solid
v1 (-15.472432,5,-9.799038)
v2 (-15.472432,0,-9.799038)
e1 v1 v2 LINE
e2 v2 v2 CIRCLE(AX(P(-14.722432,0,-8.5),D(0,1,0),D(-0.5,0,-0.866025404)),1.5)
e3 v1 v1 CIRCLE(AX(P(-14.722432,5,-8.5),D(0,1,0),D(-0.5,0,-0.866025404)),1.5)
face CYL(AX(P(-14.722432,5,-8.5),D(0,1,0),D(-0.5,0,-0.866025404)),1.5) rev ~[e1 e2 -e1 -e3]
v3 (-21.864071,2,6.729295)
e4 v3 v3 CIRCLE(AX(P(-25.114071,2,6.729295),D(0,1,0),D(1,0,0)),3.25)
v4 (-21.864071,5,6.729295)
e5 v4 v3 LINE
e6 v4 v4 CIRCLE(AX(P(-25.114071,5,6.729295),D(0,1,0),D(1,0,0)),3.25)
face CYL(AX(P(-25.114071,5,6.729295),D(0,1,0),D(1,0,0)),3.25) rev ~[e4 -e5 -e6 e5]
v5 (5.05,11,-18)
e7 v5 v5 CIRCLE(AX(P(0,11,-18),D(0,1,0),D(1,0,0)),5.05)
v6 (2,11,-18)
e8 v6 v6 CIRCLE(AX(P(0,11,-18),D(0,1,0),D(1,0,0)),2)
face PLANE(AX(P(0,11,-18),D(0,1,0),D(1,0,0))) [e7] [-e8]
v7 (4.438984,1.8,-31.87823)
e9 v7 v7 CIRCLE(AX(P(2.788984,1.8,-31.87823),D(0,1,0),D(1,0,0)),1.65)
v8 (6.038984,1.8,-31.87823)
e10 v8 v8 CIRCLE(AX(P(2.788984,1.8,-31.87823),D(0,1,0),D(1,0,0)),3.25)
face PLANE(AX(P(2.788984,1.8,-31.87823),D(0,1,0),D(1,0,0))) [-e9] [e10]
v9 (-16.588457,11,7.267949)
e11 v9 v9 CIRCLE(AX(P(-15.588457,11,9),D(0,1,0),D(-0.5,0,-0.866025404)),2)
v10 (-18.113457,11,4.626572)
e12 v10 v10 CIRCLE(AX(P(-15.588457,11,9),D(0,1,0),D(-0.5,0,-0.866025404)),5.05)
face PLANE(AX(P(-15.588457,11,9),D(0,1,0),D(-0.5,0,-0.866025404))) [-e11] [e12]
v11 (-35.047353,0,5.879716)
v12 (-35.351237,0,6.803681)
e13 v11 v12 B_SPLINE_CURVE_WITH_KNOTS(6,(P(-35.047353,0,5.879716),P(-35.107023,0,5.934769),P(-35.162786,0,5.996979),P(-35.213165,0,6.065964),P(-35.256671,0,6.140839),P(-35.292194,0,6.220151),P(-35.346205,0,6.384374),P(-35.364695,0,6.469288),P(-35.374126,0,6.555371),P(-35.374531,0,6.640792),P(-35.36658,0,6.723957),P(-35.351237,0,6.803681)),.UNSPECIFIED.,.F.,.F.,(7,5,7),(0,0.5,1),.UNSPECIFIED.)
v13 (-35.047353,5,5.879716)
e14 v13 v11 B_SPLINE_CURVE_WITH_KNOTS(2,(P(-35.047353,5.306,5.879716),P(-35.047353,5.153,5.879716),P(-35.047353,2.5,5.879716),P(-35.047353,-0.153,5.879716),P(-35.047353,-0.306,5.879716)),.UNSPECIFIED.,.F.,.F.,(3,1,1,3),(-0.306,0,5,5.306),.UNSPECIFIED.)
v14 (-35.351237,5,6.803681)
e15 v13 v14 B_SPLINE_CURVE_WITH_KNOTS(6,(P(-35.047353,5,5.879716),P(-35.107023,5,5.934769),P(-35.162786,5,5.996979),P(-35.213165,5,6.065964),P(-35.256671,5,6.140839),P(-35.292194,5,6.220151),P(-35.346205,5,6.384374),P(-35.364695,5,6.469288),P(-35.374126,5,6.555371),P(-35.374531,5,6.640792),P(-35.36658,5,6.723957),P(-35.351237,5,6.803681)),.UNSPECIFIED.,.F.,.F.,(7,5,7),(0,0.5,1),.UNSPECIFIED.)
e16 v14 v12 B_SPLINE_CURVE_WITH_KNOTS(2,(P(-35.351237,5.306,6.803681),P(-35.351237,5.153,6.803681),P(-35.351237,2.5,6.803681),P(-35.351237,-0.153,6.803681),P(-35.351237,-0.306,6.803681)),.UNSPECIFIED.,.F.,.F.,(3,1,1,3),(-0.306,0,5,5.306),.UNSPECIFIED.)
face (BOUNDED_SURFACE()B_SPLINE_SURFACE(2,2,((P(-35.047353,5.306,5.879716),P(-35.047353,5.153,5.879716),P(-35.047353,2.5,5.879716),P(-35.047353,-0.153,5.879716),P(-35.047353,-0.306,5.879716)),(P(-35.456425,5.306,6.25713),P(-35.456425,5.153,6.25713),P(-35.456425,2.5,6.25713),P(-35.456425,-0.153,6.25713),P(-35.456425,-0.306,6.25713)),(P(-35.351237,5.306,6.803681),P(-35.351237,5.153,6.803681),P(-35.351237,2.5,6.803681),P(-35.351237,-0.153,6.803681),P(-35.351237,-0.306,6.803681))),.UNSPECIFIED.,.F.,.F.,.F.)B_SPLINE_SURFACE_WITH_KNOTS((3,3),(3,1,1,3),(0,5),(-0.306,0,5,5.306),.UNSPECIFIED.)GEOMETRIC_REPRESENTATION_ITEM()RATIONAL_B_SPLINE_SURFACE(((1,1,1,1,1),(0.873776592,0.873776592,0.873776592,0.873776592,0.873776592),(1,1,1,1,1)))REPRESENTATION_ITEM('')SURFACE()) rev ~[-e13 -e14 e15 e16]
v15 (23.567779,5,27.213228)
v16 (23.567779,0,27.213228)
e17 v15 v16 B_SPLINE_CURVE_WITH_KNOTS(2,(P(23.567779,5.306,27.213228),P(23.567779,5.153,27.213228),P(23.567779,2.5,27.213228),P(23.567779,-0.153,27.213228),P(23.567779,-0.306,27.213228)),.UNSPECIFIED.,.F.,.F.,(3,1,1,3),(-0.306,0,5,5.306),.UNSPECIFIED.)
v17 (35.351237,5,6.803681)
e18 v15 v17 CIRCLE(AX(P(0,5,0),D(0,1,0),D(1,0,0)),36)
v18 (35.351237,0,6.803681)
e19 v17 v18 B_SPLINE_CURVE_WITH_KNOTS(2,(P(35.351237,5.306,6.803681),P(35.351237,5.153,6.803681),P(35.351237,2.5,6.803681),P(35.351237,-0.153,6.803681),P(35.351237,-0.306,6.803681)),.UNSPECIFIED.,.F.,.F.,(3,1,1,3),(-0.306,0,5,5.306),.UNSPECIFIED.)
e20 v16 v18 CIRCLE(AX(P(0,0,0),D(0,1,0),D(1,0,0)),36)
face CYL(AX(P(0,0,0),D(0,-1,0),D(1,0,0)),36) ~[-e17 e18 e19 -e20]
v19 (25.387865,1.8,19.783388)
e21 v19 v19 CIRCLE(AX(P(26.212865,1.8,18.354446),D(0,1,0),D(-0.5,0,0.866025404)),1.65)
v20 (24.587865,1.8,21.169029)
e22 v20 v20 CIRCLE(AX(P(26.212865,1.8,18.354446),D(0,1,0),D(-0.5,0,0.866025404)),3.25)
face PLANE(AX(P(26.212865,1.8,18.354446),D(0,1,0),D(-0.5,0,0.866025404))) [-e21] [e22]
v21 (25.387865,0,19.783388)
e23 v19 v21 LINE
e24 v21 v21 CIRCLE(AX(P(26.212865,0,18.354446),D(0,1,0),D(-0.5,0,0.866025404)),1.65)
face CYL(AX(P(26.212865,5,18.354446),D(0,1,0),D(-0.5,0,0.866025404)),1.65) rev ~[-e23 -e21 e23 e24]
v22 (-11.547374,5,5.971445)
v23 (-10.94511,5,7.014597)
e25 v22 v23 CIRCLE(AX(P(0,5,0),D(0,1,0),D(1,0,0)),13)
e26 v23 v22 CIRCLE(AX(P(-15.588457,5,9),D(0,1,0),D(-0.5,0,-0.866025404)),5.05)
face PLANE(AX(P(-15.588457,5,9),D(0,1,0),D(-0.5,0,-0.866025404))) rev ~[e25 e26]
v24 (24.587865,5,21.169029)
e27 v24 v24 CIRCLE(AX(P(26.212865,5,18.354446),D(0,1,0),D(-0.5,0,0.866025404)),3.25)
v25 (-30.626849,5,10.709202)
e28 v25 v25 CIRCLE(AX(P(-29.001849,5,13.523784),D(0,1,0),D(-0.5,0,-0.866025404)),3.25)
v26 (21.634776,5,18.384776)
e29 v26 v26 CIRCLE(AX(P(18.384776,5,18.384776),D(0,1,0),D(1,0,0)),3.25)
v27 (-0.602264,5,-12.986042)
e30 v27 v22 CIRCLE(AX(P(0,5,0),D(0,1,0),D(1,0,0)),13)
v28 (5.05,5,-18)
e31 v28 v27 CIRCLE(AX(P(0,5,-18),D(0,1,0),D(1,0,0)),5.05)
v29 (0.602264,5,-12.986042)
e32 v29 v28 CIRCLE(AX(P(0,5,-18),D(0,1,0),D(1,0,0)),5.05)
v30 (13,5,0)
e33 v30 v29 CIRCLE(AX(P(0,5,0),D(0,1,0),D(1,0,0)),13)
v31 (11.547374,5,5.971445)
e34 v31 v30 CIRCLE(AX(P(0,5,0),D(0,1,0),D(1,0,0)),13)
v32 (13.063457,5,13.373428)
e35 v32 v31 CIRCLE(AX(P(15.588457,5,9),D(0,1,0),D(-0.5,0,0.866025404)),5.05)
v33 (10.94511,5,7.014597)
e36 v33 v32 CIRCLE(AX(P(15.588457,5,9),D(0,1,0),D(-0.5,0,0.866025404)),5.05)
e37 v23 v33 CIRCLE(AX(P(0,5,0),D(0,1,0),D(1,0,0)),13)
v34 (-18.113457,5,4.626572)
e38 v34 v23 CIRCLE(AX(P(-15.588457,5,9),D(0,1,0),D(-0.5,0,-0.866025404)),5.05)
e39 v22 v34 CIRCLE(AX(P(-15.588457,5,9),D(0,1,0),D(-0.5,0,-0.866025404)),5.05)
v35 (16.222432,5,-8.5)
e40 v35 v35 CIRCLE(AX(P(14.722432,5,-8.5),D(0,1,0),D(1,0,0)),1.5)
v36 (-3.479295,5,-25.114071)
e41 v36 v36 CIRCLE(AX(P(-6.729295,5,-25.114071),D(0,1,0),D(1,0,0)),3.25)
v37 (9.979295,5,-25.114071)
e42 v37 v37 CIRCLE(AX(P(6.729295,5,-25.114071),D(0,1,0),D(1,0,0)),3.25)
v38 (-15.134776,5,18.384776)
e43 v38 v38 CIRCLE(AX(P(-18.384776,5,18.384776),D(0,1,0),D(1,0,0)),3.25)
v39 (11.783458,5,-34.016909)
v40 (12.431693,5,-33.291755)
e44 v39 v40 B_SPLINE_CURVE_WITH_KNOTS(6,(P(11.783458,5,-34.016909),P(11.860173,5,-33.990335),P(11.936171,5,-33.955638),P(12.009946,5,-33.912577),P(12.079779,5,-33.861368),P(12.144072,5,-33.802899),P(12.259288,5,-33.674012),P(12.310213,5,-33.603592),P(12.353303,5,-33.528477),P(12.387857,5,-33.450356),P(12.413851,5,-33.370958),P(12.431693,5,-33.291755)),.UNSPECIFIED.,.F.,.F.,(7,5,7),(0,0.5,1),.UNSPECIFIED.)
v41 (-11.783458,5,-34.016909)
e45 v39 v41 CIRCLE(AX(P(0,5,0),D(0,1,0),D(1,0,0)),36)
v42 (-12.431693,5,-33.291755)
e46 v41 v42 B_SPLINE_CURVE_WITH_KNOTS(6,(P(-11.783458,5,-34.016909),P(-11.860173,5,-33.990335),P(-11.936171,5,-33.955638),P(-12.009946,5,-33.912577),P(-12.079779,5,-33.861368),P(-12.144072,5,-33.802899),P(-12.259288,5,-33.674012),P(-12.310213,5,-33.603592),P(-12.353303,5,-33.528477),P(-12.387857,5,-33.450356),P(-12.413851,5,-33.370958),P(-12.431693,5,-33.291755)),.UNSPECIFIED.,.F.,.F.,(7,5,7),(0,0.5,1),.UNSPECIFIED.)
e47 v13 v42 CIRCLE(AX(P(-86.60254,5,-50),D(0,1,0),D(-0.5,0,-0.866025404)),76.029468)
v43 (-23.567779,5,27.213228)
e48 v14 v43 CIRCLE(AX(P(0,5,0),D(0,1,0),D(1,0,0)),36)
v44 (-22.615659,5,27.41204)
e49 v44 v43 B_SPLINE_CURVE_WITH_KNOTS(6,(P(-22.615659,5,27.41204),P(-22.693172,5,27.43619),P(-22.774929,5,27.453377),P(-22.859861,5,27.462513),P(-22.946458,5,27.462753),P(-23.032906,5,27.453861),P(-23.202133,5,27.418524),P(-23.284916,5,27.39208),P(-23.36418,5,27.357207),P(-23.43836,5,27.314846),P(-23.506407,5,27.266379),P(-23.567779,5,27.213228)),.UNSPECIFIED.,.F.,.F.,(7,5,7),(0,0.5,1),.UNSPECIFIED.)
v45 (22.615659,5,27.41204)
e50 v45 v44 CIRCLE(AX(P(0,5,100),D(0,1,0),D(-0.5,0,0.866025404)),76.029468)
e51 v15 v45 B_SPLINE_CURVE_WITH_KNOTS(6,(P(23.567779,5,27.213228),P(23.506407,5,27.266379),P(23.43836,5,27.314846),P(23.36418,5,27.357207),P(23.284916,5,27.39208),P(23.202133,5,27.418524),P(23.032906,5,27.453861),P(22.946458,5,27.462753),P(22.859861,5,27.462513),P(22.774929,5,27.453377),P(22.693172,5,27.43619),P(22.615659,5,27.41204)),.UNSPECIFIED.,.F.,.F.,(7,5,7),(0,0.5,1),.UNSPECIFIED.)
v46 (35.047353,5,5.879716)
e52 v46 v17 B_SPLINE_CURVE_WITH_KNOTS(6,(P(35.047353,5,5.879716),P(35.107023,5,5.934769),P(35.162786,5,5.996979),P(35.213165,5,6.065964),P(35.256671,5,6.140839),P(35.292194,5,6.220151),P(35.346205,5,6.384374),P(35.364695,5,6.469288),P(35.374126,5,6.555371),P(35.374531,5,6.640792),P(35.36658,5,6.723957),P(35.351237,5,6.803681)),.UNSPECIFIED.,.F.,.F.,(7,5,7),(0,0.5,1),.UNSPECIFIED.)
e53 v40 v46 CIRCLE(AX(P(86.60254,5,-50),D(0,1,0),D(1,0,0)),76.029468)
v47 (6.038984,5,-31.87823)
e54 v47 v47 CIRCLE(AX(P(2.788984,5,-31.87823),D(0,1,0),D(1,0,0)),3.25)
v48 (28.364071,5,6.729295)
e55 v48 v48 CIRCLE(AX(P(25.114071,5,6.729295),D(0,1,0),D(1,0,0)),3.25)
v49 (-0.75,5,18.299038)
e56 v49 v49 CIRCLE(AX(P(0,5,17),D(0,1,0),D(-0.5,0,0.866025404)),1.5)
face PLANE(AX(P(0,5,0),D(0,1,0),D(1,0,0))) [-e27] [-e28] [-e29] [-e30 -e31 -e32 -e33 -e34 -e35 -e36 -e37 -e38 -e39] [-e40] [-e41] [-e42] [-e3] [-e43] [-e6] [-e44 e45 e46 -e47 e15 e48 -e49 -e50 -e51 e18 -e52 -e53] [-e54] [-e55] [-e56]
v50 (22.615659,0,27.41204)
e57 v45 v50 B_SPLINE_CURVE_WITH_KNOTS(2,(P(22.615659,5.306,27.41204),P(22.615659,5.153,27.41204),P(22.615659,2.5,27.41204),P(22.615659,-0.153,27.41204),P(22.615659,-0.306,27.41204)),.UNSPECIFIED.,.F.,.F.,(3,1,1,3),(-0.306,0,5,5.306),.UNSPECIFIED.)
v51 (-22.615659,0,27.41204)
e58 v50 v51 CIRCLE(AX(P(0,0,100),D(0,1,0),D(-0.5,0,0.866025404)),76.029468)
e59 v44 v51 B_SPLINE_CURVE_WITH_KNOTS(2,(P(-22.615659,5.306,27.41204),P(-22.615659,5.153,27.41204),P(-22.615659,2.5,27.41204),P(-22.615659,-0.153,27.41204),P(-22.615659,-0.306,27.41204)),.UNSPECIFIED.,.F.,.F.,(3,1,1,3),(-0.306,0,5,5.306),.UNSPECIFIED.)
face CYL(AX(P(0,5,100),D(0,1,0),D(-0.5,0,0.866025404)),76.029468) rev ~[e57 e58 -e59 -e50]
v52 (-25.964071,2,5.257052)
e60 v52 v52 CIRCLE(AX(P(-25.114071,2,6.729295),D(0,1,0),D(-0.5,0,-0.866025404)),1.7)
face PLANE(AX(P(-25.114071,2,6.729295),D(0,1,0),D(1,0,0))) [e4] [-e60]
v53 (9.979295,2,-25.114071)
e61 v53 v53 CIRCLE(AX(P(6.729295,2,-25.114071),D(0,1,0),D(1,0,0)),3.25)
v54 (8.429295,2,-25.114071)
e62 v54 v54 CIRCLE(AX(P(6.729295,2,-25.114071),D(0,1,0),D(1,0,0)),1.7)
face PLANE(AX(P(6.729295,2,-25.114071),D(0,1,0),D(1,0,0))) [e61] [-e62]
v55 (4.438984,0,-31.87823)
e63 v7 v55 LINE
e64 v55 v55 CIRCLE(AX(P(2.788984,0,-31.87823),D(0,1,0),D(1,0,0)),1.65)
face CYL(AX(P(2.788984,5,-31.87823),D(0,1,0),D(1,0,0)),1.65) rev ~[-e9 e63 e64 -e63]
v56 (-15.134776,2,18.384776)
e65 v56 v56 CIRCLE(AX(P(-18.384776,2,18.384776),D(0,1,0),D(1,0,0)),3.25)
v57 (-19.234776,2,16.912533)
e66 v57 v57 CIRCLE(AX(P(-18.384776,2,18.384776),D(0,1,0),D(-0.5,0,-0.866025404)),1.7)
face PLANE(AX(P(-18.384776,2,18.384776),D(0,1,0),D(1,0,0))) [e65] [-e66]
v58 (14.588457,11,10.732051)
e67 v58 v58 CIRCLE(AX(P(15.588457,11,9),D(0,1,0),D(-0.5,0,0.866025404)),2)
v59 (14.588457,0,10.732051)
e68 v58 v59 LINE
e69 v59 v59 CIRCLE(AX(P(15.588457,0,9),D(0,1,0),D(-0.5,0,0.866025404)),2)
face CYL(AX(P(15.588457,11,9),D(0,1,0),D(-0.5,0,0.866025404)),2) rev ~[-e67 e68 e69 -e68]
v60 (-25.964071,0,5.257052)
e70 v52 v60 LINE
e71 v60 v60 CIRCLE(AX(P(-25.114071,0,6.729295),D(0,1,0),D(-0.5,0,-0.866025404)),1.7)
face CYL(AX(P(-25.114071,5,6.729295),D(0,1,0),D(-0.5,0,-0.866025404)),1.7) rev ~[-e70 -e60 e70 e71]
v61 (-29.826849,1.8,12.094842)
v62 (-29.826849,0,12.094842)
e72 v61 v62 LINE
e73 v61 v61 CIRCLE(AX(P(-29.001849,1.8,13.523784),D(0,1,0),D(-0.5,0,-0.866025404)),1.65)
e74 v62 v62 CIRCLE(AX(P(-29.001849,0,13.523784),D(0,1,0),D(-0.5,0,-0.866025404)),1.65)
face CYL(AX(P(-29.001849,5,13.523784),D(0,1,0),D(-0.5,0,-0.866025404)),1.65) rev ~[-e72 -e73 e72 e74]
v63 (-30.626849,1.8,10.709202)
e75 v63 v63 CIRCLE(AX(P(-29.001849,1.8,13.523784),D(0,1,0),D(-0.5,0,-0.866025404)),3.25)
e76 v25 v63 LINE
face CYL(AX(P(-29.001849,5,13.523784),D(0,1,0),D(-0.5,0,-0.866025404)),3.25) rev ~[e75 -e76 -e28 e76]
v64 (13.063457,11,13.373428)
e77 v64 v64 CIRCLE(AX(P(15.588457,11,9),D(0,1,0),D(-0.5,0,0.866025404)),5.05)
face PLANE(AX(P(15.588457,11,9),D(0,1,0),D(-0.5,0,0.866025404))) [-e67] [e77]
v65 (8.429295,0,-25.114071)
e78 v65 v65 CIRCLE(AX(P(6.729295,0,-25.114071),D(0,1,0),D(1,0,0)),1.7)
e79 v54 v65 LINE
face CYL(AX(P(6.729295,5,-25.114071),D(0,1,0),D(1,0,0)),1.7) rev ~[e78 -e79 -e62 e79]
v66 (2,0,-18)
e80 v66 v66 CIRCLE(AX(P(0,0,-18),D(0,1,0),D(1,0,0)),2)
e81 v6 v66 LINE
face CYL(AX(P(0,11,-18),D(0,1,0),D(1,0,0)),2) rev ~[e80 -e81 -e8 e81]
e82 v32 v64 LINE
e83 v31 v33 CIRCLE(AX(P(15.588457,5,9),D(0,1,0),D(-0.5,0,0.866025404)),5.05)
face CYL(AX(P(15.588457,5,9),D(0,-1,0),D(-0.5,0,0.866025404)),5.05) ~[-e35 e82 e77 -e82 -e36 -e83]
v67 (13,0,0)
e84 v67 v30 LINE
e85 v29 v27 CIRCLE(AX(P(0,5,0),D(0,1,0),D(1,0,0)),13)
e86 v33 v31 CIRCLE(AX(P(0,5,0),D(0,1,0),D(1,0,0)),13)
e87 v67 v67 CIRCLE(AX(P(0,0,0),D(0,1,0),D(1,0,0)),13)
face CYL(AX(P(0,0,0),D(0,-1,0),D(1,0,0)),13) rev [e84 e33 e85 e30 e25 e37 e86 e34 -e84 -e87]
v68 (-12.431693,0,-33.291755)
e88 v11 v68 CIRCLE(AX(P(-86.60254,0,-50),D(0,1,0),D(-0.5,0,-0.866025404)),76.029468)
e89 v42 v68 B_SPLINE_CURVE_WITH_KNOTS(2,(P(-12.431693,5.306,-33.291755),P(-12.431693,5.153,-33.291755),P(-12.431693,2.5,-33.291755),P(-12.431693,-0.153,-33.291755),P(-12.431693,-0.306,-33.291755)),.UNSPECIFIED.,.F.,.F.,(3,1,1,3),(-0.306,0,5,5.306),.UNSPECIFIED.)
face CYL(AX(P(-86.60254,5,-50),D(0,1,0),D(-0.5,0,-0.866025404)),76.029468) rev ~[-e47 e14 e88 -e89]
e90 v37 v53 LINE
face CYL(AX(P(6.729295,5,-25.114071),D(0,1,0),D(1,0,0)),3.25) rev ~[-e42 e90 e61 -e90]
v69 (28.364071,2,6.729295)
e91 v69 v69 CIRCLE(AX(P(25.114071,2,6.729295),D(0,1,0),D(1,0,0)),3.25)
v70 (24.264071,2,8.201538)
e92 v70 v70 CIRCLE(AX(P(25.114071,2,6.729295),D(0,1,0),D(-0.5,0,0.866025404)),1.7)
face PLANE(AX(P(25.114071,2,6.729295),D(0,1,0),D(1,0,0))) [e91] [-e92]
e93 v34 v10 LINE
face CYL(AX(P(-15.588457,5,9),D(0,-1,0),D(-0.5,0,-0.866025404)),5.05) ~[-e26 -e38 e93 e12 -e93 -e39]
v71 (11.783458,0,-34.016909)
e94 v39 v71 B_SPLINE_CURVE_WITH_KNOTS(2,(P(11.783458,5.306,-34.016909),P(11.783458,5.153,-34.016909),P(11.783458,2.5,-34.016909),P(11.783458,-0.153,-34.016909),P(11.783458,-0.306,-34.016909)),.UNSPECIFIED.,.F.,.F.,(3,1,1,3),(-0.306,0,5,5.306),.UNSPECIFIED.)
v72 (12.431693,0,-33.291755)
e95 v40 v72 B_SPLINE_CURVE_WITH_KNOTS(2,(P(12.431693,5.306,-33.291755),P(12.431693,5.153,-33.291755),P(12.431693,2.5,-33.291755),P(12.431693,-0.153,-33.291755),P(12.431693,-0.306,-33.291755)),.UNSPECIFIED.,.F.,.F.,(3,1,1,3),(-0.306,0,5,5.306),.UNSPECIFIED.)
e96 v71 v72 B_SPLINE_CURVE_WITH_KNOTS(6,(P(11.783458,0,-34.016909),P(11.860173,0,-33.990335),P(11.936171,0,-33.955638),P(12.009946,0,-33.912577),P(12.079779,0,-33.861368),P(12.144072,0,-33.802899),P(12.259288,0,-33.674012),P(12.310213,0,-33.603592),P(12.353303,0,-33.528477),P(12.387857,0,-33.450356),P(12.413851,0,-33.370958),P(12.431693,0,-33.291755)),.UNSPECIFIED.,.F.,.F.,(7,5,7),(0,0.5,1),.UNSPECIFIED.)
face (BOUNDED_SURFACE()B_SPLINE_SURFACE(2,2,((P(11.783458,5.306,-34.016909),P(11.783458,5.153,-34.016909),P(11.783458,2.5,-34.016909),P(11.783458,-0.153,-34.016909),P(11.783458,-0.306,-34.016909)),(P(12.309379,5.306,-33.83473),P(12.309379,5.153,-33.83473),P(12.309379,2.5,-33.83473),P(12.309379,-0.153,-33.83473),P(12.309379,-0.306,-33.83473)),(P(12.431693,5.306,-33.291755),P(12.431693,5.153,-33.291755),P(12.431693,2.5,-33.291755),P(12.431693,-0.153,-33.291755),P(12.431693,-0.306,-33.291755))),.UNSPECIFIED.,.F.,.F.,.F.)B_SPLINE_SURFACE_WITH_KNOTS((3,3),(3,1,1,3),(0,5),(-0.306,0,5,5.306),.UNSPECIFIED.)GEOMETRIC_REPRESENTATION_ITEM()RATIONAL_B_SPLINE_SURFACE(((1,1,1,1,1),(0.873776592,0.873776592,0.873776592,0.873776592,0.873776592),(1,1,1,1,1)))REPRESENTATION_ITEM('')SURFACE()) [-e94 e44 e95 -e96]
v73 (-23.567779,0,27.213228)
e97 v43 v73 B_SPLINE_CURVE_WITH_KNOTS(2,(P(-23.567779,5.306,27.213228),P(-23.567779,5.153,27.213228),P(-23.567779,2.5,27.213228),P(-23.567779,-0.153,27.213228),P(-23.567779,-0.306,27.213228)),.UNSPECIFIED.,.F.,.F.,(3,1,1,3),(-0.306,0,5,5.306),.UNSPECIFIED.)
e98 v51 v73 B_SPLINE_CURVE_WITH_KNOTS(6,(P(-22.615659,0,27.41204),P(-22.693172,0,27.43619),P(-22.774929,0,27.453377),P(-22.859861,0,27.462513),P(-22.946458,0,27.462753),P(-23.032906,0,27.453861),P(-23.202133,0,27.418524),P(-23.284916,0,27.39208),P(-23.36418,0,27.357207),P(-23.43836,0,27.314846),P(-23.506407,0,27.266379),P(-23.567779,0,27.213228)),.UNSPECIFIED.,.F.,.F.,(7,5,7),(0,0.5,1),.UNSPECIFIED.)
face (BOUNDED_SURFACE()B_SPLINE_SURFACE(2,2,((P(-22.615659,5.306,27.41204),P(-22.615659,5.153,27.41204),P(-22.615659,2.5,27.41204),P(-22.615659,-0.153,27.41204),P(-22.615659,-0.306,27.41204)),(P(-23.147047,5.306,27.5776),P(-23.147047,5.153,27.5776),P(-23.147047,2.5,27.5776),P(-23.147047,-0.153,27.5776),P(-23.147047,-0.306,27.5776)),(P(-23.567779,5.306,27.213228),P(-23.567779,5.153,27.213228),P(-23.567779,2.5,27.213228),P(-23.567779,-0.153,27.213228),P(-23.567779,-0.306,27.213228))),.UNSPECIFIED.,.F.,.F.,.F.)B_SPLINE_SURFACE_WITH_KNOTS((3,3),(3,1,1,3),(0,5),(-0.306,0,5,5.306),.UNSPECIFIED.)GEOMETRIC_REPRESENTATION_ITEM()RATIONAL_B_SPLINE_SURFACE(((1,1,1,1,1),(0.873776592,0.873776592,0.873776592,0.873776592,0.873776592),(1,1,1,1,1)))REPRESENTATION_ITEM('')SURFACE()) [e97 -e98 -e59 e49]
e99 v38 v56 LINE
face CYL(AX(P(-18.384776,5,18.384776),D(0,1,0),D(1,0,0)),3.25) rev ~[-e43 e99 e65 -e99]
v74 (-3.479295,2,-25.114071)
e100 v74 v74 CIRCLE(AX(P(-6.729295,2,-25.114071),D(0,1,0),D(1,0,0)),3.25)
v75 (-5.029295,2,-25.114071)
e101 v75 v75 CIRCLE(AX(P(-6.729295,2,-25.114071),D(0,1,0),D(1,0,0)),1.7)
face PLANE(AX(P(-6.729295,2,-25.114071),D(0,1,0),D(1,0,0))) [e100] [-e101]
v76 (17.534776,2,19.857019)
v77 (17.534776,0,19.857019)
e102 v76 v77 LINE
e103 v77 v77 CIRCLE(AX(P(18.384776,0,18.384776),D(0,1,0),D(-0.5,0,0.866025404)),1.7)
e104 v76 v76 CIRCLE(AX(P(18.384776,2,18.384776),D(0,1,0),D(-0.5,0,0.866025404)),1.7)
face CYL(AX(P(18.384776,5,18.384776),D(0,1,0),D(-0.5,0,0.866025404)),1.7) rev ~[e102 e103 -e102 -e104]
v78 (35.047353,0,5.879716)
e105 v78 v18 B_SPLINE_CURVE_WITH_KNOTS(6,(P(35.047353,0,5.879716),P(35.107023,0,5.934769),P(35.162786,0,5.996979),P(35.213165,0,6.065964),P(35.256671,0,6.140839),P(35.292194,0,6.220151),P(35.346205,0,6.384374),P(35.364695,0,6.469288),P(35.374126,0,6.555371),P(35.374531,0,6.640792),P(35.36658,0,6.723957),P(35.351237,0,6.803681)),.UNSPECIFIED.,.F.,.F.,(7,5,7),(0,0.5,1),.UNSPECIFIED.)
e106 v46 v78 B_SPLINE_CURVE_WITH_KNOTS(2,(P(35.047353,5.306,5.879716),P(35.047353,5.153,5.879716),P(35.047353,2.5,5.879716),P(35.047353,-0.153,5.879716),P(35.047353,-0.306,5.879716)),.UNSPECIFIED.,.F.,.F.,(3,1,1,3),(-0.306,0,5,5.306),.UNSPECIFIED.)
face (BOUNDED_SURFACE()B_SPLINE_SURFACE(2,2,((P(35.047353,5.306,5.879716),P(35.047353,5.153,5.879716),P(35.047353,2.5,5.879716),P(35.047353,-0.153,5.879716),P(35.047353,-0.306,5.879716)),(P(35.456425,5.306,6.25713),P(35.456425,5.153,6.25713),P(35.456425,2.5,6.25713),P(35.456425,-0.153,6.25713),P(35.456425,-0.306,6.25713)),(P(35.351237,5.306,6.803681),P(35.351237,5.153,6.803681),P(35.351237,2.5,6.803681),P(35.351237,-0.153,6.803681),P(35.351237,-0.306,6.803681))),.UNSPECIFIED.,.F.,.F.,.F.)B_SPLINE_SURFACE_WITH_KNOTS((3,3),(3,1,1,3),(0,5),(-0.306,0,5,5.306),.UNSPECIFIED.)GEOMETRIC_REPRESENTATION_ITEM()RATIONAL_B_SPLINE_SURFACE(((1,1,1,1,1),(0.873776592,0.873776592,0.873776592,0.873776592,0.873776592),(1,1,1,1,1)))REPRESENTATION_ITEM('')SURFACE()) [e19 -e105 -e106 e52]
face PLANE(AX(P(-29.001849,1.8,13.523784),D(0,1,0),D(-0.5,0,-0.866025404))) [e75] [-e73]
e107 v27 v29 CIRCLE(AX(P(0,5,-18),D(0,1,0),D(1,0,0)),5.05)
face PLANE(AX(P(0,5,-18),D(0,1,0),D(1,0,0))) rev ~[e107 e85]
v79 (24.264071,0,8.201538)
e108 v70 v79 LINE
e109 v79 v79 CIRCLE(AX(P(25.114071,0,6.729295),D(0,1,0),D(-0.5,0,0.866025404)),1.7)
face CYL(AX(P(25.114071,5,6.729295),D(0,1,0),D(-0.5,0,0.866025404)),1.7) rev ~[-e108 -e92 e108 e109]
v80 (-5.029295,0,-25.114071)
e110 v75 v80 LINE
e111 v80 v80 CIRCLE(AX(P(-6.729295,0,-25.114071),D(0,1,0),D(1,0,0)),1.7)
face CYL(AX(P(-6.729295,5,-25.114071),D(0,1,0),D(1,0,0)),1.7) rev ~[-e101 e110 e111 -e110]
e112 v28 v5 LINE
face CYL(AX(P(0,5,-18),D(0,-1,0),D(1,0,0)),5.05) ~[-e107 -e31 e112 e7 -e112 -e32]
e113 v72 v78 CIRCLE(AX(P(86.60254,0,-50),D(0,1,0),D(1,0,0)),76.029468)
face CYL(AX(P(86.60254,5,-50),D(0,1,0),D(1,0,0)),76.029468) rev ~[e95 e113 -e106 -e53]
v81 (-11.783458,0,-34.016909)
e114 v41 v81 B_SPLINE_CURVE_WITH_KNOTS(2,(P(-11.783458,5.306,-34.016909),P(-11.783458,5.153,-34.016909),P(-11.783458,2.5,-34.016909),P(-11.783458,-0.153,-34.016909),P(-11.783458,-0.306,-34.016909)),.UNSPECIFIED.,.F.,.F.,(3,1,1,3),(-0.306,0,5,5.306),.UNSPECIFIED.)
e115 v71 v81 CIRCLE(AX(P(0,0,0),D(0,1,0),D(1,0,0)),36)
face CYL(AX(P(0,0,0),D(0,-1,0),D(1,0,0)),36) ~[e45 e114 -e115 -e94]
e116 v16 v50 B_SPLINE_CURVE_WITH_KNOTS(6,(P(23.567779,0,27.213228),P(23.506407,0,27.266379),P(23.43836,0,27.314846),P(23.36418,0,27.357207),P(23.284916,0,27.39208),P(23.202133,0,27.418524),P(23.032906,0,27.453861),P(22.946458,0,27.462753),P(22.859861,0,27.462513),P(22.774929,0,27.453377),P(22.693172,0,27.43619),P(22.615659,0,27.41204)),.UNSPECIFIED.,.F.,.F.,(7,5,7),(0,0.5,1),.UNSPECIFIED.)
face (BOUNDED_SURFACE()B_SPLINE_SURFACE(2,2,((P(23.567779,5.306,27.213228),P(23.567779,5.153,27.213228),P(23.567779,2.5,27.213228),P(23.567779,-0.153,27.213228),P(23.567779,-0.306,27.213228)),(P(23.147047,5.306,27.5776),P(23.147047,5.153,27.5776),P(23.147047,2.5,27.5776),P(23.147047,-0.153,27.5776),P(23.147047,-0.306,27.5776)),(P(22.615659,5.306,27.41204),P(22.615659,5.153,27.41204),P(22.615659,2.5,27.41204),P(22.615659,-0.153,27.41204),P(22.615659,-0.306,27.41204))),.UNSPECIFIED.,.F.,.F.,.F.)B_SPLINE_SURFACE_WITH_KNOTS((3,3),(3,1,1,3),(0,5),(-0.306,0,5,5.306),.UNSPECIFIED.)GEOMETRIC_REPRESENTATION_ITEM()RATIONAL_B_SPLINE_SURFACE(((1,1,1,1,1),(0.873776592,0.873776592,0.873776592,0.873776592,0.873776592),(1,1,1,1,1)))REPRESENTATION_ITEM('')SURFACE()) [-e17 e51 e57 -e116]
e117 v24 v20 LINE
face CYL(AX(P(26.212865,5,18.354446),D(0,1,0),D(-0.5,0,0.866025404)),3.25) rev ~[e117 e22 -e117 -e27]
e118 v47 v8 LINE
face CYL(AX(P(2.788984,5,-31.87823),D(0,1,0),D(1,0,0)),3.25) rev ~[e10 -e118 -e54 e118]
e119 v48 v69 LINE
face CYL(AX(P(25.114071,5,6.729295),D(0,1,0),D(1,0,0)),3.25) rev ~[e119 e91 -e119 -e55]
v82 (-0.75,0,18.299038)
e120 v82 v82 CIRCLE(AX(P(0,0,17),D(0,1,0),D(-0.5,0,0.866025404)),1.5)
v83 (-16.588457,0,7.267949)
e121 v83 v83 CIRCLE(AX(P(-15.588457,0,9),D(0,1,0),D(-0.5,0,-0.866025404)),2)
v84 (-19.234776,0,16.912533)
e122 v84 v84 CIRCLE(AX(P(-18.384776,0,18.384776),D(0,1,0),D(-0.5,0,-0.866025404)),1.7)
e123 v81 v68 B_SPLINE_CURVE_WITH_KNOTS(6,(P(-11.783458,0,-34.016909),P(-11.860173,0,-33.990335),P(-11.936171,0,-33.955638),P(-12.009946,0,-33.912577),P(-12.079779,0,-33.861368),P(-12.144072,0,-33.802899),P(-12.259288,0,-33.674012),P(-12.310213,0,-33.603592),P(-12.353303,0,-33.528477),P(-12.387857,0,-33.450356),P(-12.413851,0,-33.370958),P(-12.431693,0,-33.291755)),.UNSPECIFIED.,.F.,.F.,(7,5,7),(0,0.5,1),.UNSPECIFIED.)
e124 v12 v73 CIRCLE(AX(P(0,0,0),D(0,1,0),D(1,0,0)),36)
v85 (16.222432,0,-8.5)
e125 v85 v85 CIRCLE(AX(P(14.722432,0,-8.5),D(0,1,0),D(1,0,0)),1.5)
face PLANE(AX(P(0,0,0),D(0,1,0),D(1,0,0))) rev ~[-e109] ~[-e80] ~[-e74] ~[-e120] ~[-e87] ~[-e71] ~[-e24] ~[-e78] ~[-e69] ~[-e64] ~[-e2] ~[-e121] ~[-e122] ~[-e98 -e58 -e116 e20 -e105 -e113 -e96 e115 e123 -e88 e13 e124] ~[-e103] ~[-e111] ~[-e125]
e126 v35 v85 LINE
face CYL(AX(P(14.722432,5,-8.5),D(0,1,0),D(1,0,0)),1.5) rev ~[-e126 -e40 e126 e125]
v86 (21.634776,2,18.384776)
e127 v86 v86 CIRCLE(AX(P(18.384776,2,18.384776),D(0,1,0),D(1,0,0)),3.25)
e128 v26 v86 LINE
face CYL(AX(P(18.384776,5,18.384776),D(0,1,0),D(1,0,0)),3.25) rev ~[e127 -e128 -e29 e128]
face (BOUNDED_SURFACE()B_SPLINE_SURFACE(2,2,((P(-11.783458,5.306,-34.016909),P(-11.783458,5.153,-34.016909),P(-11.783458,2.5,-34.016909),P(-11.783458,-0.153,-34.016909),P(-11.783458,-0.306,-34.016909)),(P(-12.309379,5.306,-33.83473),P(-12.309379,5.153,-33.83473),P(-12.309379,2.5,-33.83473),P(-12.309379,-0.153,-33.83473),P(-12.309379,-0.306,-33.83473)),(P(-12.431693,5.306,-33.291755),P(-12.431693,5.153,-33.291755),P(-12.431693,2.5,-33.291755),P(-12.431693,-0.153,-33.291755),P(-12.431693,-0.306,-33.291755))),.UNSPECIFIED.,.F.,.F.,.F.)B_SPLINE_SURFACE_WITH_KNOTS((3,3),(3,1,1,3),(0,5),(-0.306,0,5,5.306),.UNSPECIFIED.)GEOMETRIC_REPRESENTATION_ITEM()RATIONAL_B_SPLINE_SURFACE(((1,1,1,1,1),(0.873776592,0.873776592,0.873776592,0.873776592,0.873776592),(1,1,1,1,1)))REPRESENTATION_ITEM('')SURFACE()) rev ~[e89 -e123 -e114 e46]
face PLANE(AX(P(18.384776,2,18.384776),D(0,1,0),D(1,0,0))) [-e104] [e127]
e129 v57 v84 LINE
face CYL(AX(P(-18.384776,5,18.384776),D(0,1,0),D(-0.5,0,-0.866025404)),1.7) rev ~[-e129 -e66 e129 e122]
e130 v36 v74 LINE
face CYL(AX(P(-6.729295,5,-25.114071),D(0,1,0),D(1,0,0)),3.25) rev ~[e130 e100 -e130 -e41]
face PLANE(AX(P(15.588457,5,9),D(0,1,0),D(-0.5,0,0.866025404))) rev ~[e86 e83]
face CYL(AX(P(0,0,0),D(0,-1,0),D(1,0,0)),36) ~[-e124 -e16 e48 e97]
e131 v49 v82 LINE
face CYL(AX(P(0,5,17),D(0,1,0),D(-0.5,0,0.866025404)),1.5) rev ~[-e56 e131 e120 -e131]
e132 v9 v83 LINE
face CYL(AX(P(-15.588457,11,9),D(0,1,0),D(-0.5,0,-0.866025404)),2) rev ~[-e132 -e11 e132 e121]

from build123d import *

# Parameters (mm, degrees)
SKETCH1_R           = 36
SKETCH1_R_2         = 13
BOSS_EXTRUDE1_DEPTH = 5
SKETCH2_R           = 1.65
CUT_EXTRUDE1_DEPTH  = 6
CIRPATTERN1_COUNT   = 3
SKETCH3_R           = 76.029468034
CUT_EXTRUDE2_DEPTH  = 10
CIRPATTERN2_COUNT   = 3
FILLET1_R           = 1
SKETCH4_R           = 5.05
BOSS_EXTRUDE2_DEPTH = 6
SKETCH7_R           = 3.25
CUT_EXTRUDE5_DEPTH  = 3.2
CIRPATTERN3_COUNT   = 3
SKETCH8_R           = 1.5
CUT_EXTRUDE6_DEPTH  = 10
SKETCH12_R          = 2
CUT_EXTRUDE8_DEPTH  = 12.0000001
CIRPATTERN4_COUNT   = 3
SKETCH13_R          = 1.7
CUT_EXTRUDE9_DEPTH  = 6.0000001
CIRPATTERN5_COUNT   = 3
SKETCH14_R          = 3.25
CUT_EXTRUDE10_DEPTH = 3


with BuildPart() as part:
    # Sketch1 → Boss-Extrude1 (new body)
    with BuildSketch(Plane(origin=(0, 0, 0), x_dir=(1, 0, 0), z_dir=(0, 1, 0))):
        Circle(SKETCH1_R)
        Circle(SKETCH1_R_2, mode=Mode.SUBTRACT)
    extrude(amount=BOSS_EXTRUDE1_DEPTH)

    # Sketch2 → Cut-Extrude1 (cut, through all)
    with BuildSketch(Plane(origin=(0, 5, 0), x_dir=(1, 0, 0), z_dir=(0, 1, 0))):
        with Locations((2.788983768, 31.878230339)):
            Circle(SKETCH2_R)
    cut_extrude1 = extrude(amount=-CUT_EXTRUDE1_DEPTH, mode=Mode.SUBTRACT)

    # CirPattern1: Cut-Extrude1 ×3 about axis
    cirpattern1_axis = Axis((0, 0, 0), (0, 1, 0))
    for i in range(1, CIRPATTERN1_COUNT):
        add(cut_extrude1.rotate(cirpattern1_axis, i * 360 / CIRPATTERN1_COUNT), mode=Mode.SUBTRACT)

    # Sketch3 → Cut-Extrude2 (cut)
    with BuildSketch(Plane(origin=(0, 5, 0), x_dir=(1, 0, 0), z_dir=(0, 1, 0))):
        with Locations((86.602540378, 50)):
            Circle(SKETCH3_R)
    cut_extrude2 = extrude(amount=-CUT_EXTRUDE2_DEPTH, mode=Mode.SUBTRACT)

    # CirPattern2: Cut-Extrude2 ×3 about axis
    cirpattern2_axis = Axis((0, 0, 0), (0, 1, 0))
    for i in range(1, CIRPATTERN2_COUNT):
        add(cut_extrude2.rotate(cirpattern2_axis, i * 360 / CIRPATTERN2_COUNT), mode=Mode.SUBTRACT)

    # Fillet1
    fillet1_edges = [part.edges().sort_by_distance(p)[0] for p in [
        (12.31272516, 2.5, -33.828934348),
        (35.453079108, 2.5, 6.251334396),
        (23.140353949, 2.5, 27.577599952),
        (-23.140353949, 2.5, 27.577599952),
        (-35.453079108, 2.5, 6.251334396),
        (-12.31272516, 2.5, -33.828934348),
    ]]
    fillet(fillet1_edges, radius=FILLET1_R)

    # Sketch4 → Boss-Extrude2 (add)
    with BuildSketch(Plane(origin=(0, 5, 0), x_dir=(1, 0, 0), z_dir=(0, 1, 0))):
        with Locations((0, 18)):
            Circle(SKETCH4_R)
    boss_extrude2 = extrude(amount=BOSS_EXTRUDE2_DEPTH)

    # Sketch7 → Cut-Extrude5 (cut)
    with BuildSketch(Plane(origin=(0, 5, 0), x_dir=(1, 0, 0), z_dir=(0, 1, 0))):
        with Locations((2.788983768, 31.878230339)):
            Circle(SKETCH7_R)
    cut_extrude5 = extrude(amount=-CUT_EXTRUDE5_DEPTH, mode=Mode.SUBTRACT)

    # CirPattern3: Boss-Extrude2, Cut-Extrude5 ×3 about axis
    cirpattern3_axis = Axis((0, 0, 0), (0, 1, 0))
    for i in range(1, CIRPATTERN3_COUNT):
        add(boss_extrude2.rotate(cirpattern3_axis, i * 360 / CIRPATTERN3_COUNT))
        add(cut_extrude5.rotate(cirpattern3_axis, i * 360 / CIRPATTERN3_COUNT), mode=Mode.SUBTRACT)

    # Sketch8 → Cut-Extrude6 (cut)
    with BuildSketch(Plane(origin=(0, 5, 0), x_dir=(1, 0, 0), z_dir=(0, 1, 0))):
        with Locations((14.722431864, 8.5)):
            Circle(SKETCH8_R)
    cut_extrude6 = extrude(amount=-CUT_EXTRUDE6_DEPTH, mode=Mode.SUBTRACT)

    # Sketch12 → Cut-Extrude8 (cut, through all)
    with BuildSketch(Plane(origin=(0, 11, 0), x_dir=(1, 0, 0), z_dir=(0, 1, 0))):
        with Locations((0, 18)):
            Circle(SKETCH12_R)
    cut_extrude8 = extrude(amount=-CUT_EXTRUDE8_DEPTH, mode=Mode.SUBTRACT)

    # CirPattern4: Cut-Extrude6, Cut-Extrude8 ×3 about axis
    cirpattern4_axis = Axis((0, 0, 0), (0, 1, 0))
    for i in range(1, CIRPATTERN4_COUNT):
        add(cut_extrude6.rotate(cirpattern4_axis, i * 360 / CIRPATTERN4_COUNT), mode=Mode.SUBTRACT)
        add(cut_extrude8.rotate(cirpattern4_axis, i * 360 / CIRPATTERN4_COUNT), mode=Mode.SUBTRACT)

    # Sketch13 → Cut-Extrude9 (cut, through all)
    with BuildSketch(Plane(origin=(0, 5, 0), x_dir=(1, 0, 0), z_dir=(0, 1, 0))):
        with Locations((6.729295173, 25.114071484)):
            Circle(SKETCH13_R)
        with Locations((-6.729295173, 25.114071484)):
            Circle(SKETCH13_R)
    cut_extrude9 = extrude(amount=-CUT_EXTRUDE9_DEPTH, mode=Mode.SUBTRACT)

    # CirPattern5: Cut-Extrude9 ×3 about axis
    cirpattern5_axis = Axis((0, 0, 0), (0, 1, 0))
    for i in range(1, CIRPATTERN5_COUNT):
        add(cut_extrude9.rotate(cirpattern5_axis, i * 360 / CIRPATTERN5_COUNT), mode=Mode.SUBTRACT)

    # Sketch14 → Cut-Extrude10 (cut)
    with BuildSketch(Plane(origin=(0, 5, 0), x_dir=(1, 0, 0), z_dir=(0, 1, 0))):
        with Locations((-18.384776311, -18.384776311)):
            Circle(SKETCH14_R)
        with Locations((-25.114071484, -6.729295173)):
            Circle(SKETCH14_R)
        with Locations((-6.729295173, 25.114071484)):
            Circle(SKETCH14_R)
        with Locations((6.729295173, 25.114071484)):
            Circle(SKETCH14_R)
        with Locations((25.114071484, -6.729295173)):
            Circle(SKETCH14_R)
        with Locations((18.384776311, -18.384776311)):
            Circle(SKETCH14_R)
    extrude(amount=-CUT_EXTRUDE10_DEPTH, mode=Mode.SUBTRACT)


solid = part.part
